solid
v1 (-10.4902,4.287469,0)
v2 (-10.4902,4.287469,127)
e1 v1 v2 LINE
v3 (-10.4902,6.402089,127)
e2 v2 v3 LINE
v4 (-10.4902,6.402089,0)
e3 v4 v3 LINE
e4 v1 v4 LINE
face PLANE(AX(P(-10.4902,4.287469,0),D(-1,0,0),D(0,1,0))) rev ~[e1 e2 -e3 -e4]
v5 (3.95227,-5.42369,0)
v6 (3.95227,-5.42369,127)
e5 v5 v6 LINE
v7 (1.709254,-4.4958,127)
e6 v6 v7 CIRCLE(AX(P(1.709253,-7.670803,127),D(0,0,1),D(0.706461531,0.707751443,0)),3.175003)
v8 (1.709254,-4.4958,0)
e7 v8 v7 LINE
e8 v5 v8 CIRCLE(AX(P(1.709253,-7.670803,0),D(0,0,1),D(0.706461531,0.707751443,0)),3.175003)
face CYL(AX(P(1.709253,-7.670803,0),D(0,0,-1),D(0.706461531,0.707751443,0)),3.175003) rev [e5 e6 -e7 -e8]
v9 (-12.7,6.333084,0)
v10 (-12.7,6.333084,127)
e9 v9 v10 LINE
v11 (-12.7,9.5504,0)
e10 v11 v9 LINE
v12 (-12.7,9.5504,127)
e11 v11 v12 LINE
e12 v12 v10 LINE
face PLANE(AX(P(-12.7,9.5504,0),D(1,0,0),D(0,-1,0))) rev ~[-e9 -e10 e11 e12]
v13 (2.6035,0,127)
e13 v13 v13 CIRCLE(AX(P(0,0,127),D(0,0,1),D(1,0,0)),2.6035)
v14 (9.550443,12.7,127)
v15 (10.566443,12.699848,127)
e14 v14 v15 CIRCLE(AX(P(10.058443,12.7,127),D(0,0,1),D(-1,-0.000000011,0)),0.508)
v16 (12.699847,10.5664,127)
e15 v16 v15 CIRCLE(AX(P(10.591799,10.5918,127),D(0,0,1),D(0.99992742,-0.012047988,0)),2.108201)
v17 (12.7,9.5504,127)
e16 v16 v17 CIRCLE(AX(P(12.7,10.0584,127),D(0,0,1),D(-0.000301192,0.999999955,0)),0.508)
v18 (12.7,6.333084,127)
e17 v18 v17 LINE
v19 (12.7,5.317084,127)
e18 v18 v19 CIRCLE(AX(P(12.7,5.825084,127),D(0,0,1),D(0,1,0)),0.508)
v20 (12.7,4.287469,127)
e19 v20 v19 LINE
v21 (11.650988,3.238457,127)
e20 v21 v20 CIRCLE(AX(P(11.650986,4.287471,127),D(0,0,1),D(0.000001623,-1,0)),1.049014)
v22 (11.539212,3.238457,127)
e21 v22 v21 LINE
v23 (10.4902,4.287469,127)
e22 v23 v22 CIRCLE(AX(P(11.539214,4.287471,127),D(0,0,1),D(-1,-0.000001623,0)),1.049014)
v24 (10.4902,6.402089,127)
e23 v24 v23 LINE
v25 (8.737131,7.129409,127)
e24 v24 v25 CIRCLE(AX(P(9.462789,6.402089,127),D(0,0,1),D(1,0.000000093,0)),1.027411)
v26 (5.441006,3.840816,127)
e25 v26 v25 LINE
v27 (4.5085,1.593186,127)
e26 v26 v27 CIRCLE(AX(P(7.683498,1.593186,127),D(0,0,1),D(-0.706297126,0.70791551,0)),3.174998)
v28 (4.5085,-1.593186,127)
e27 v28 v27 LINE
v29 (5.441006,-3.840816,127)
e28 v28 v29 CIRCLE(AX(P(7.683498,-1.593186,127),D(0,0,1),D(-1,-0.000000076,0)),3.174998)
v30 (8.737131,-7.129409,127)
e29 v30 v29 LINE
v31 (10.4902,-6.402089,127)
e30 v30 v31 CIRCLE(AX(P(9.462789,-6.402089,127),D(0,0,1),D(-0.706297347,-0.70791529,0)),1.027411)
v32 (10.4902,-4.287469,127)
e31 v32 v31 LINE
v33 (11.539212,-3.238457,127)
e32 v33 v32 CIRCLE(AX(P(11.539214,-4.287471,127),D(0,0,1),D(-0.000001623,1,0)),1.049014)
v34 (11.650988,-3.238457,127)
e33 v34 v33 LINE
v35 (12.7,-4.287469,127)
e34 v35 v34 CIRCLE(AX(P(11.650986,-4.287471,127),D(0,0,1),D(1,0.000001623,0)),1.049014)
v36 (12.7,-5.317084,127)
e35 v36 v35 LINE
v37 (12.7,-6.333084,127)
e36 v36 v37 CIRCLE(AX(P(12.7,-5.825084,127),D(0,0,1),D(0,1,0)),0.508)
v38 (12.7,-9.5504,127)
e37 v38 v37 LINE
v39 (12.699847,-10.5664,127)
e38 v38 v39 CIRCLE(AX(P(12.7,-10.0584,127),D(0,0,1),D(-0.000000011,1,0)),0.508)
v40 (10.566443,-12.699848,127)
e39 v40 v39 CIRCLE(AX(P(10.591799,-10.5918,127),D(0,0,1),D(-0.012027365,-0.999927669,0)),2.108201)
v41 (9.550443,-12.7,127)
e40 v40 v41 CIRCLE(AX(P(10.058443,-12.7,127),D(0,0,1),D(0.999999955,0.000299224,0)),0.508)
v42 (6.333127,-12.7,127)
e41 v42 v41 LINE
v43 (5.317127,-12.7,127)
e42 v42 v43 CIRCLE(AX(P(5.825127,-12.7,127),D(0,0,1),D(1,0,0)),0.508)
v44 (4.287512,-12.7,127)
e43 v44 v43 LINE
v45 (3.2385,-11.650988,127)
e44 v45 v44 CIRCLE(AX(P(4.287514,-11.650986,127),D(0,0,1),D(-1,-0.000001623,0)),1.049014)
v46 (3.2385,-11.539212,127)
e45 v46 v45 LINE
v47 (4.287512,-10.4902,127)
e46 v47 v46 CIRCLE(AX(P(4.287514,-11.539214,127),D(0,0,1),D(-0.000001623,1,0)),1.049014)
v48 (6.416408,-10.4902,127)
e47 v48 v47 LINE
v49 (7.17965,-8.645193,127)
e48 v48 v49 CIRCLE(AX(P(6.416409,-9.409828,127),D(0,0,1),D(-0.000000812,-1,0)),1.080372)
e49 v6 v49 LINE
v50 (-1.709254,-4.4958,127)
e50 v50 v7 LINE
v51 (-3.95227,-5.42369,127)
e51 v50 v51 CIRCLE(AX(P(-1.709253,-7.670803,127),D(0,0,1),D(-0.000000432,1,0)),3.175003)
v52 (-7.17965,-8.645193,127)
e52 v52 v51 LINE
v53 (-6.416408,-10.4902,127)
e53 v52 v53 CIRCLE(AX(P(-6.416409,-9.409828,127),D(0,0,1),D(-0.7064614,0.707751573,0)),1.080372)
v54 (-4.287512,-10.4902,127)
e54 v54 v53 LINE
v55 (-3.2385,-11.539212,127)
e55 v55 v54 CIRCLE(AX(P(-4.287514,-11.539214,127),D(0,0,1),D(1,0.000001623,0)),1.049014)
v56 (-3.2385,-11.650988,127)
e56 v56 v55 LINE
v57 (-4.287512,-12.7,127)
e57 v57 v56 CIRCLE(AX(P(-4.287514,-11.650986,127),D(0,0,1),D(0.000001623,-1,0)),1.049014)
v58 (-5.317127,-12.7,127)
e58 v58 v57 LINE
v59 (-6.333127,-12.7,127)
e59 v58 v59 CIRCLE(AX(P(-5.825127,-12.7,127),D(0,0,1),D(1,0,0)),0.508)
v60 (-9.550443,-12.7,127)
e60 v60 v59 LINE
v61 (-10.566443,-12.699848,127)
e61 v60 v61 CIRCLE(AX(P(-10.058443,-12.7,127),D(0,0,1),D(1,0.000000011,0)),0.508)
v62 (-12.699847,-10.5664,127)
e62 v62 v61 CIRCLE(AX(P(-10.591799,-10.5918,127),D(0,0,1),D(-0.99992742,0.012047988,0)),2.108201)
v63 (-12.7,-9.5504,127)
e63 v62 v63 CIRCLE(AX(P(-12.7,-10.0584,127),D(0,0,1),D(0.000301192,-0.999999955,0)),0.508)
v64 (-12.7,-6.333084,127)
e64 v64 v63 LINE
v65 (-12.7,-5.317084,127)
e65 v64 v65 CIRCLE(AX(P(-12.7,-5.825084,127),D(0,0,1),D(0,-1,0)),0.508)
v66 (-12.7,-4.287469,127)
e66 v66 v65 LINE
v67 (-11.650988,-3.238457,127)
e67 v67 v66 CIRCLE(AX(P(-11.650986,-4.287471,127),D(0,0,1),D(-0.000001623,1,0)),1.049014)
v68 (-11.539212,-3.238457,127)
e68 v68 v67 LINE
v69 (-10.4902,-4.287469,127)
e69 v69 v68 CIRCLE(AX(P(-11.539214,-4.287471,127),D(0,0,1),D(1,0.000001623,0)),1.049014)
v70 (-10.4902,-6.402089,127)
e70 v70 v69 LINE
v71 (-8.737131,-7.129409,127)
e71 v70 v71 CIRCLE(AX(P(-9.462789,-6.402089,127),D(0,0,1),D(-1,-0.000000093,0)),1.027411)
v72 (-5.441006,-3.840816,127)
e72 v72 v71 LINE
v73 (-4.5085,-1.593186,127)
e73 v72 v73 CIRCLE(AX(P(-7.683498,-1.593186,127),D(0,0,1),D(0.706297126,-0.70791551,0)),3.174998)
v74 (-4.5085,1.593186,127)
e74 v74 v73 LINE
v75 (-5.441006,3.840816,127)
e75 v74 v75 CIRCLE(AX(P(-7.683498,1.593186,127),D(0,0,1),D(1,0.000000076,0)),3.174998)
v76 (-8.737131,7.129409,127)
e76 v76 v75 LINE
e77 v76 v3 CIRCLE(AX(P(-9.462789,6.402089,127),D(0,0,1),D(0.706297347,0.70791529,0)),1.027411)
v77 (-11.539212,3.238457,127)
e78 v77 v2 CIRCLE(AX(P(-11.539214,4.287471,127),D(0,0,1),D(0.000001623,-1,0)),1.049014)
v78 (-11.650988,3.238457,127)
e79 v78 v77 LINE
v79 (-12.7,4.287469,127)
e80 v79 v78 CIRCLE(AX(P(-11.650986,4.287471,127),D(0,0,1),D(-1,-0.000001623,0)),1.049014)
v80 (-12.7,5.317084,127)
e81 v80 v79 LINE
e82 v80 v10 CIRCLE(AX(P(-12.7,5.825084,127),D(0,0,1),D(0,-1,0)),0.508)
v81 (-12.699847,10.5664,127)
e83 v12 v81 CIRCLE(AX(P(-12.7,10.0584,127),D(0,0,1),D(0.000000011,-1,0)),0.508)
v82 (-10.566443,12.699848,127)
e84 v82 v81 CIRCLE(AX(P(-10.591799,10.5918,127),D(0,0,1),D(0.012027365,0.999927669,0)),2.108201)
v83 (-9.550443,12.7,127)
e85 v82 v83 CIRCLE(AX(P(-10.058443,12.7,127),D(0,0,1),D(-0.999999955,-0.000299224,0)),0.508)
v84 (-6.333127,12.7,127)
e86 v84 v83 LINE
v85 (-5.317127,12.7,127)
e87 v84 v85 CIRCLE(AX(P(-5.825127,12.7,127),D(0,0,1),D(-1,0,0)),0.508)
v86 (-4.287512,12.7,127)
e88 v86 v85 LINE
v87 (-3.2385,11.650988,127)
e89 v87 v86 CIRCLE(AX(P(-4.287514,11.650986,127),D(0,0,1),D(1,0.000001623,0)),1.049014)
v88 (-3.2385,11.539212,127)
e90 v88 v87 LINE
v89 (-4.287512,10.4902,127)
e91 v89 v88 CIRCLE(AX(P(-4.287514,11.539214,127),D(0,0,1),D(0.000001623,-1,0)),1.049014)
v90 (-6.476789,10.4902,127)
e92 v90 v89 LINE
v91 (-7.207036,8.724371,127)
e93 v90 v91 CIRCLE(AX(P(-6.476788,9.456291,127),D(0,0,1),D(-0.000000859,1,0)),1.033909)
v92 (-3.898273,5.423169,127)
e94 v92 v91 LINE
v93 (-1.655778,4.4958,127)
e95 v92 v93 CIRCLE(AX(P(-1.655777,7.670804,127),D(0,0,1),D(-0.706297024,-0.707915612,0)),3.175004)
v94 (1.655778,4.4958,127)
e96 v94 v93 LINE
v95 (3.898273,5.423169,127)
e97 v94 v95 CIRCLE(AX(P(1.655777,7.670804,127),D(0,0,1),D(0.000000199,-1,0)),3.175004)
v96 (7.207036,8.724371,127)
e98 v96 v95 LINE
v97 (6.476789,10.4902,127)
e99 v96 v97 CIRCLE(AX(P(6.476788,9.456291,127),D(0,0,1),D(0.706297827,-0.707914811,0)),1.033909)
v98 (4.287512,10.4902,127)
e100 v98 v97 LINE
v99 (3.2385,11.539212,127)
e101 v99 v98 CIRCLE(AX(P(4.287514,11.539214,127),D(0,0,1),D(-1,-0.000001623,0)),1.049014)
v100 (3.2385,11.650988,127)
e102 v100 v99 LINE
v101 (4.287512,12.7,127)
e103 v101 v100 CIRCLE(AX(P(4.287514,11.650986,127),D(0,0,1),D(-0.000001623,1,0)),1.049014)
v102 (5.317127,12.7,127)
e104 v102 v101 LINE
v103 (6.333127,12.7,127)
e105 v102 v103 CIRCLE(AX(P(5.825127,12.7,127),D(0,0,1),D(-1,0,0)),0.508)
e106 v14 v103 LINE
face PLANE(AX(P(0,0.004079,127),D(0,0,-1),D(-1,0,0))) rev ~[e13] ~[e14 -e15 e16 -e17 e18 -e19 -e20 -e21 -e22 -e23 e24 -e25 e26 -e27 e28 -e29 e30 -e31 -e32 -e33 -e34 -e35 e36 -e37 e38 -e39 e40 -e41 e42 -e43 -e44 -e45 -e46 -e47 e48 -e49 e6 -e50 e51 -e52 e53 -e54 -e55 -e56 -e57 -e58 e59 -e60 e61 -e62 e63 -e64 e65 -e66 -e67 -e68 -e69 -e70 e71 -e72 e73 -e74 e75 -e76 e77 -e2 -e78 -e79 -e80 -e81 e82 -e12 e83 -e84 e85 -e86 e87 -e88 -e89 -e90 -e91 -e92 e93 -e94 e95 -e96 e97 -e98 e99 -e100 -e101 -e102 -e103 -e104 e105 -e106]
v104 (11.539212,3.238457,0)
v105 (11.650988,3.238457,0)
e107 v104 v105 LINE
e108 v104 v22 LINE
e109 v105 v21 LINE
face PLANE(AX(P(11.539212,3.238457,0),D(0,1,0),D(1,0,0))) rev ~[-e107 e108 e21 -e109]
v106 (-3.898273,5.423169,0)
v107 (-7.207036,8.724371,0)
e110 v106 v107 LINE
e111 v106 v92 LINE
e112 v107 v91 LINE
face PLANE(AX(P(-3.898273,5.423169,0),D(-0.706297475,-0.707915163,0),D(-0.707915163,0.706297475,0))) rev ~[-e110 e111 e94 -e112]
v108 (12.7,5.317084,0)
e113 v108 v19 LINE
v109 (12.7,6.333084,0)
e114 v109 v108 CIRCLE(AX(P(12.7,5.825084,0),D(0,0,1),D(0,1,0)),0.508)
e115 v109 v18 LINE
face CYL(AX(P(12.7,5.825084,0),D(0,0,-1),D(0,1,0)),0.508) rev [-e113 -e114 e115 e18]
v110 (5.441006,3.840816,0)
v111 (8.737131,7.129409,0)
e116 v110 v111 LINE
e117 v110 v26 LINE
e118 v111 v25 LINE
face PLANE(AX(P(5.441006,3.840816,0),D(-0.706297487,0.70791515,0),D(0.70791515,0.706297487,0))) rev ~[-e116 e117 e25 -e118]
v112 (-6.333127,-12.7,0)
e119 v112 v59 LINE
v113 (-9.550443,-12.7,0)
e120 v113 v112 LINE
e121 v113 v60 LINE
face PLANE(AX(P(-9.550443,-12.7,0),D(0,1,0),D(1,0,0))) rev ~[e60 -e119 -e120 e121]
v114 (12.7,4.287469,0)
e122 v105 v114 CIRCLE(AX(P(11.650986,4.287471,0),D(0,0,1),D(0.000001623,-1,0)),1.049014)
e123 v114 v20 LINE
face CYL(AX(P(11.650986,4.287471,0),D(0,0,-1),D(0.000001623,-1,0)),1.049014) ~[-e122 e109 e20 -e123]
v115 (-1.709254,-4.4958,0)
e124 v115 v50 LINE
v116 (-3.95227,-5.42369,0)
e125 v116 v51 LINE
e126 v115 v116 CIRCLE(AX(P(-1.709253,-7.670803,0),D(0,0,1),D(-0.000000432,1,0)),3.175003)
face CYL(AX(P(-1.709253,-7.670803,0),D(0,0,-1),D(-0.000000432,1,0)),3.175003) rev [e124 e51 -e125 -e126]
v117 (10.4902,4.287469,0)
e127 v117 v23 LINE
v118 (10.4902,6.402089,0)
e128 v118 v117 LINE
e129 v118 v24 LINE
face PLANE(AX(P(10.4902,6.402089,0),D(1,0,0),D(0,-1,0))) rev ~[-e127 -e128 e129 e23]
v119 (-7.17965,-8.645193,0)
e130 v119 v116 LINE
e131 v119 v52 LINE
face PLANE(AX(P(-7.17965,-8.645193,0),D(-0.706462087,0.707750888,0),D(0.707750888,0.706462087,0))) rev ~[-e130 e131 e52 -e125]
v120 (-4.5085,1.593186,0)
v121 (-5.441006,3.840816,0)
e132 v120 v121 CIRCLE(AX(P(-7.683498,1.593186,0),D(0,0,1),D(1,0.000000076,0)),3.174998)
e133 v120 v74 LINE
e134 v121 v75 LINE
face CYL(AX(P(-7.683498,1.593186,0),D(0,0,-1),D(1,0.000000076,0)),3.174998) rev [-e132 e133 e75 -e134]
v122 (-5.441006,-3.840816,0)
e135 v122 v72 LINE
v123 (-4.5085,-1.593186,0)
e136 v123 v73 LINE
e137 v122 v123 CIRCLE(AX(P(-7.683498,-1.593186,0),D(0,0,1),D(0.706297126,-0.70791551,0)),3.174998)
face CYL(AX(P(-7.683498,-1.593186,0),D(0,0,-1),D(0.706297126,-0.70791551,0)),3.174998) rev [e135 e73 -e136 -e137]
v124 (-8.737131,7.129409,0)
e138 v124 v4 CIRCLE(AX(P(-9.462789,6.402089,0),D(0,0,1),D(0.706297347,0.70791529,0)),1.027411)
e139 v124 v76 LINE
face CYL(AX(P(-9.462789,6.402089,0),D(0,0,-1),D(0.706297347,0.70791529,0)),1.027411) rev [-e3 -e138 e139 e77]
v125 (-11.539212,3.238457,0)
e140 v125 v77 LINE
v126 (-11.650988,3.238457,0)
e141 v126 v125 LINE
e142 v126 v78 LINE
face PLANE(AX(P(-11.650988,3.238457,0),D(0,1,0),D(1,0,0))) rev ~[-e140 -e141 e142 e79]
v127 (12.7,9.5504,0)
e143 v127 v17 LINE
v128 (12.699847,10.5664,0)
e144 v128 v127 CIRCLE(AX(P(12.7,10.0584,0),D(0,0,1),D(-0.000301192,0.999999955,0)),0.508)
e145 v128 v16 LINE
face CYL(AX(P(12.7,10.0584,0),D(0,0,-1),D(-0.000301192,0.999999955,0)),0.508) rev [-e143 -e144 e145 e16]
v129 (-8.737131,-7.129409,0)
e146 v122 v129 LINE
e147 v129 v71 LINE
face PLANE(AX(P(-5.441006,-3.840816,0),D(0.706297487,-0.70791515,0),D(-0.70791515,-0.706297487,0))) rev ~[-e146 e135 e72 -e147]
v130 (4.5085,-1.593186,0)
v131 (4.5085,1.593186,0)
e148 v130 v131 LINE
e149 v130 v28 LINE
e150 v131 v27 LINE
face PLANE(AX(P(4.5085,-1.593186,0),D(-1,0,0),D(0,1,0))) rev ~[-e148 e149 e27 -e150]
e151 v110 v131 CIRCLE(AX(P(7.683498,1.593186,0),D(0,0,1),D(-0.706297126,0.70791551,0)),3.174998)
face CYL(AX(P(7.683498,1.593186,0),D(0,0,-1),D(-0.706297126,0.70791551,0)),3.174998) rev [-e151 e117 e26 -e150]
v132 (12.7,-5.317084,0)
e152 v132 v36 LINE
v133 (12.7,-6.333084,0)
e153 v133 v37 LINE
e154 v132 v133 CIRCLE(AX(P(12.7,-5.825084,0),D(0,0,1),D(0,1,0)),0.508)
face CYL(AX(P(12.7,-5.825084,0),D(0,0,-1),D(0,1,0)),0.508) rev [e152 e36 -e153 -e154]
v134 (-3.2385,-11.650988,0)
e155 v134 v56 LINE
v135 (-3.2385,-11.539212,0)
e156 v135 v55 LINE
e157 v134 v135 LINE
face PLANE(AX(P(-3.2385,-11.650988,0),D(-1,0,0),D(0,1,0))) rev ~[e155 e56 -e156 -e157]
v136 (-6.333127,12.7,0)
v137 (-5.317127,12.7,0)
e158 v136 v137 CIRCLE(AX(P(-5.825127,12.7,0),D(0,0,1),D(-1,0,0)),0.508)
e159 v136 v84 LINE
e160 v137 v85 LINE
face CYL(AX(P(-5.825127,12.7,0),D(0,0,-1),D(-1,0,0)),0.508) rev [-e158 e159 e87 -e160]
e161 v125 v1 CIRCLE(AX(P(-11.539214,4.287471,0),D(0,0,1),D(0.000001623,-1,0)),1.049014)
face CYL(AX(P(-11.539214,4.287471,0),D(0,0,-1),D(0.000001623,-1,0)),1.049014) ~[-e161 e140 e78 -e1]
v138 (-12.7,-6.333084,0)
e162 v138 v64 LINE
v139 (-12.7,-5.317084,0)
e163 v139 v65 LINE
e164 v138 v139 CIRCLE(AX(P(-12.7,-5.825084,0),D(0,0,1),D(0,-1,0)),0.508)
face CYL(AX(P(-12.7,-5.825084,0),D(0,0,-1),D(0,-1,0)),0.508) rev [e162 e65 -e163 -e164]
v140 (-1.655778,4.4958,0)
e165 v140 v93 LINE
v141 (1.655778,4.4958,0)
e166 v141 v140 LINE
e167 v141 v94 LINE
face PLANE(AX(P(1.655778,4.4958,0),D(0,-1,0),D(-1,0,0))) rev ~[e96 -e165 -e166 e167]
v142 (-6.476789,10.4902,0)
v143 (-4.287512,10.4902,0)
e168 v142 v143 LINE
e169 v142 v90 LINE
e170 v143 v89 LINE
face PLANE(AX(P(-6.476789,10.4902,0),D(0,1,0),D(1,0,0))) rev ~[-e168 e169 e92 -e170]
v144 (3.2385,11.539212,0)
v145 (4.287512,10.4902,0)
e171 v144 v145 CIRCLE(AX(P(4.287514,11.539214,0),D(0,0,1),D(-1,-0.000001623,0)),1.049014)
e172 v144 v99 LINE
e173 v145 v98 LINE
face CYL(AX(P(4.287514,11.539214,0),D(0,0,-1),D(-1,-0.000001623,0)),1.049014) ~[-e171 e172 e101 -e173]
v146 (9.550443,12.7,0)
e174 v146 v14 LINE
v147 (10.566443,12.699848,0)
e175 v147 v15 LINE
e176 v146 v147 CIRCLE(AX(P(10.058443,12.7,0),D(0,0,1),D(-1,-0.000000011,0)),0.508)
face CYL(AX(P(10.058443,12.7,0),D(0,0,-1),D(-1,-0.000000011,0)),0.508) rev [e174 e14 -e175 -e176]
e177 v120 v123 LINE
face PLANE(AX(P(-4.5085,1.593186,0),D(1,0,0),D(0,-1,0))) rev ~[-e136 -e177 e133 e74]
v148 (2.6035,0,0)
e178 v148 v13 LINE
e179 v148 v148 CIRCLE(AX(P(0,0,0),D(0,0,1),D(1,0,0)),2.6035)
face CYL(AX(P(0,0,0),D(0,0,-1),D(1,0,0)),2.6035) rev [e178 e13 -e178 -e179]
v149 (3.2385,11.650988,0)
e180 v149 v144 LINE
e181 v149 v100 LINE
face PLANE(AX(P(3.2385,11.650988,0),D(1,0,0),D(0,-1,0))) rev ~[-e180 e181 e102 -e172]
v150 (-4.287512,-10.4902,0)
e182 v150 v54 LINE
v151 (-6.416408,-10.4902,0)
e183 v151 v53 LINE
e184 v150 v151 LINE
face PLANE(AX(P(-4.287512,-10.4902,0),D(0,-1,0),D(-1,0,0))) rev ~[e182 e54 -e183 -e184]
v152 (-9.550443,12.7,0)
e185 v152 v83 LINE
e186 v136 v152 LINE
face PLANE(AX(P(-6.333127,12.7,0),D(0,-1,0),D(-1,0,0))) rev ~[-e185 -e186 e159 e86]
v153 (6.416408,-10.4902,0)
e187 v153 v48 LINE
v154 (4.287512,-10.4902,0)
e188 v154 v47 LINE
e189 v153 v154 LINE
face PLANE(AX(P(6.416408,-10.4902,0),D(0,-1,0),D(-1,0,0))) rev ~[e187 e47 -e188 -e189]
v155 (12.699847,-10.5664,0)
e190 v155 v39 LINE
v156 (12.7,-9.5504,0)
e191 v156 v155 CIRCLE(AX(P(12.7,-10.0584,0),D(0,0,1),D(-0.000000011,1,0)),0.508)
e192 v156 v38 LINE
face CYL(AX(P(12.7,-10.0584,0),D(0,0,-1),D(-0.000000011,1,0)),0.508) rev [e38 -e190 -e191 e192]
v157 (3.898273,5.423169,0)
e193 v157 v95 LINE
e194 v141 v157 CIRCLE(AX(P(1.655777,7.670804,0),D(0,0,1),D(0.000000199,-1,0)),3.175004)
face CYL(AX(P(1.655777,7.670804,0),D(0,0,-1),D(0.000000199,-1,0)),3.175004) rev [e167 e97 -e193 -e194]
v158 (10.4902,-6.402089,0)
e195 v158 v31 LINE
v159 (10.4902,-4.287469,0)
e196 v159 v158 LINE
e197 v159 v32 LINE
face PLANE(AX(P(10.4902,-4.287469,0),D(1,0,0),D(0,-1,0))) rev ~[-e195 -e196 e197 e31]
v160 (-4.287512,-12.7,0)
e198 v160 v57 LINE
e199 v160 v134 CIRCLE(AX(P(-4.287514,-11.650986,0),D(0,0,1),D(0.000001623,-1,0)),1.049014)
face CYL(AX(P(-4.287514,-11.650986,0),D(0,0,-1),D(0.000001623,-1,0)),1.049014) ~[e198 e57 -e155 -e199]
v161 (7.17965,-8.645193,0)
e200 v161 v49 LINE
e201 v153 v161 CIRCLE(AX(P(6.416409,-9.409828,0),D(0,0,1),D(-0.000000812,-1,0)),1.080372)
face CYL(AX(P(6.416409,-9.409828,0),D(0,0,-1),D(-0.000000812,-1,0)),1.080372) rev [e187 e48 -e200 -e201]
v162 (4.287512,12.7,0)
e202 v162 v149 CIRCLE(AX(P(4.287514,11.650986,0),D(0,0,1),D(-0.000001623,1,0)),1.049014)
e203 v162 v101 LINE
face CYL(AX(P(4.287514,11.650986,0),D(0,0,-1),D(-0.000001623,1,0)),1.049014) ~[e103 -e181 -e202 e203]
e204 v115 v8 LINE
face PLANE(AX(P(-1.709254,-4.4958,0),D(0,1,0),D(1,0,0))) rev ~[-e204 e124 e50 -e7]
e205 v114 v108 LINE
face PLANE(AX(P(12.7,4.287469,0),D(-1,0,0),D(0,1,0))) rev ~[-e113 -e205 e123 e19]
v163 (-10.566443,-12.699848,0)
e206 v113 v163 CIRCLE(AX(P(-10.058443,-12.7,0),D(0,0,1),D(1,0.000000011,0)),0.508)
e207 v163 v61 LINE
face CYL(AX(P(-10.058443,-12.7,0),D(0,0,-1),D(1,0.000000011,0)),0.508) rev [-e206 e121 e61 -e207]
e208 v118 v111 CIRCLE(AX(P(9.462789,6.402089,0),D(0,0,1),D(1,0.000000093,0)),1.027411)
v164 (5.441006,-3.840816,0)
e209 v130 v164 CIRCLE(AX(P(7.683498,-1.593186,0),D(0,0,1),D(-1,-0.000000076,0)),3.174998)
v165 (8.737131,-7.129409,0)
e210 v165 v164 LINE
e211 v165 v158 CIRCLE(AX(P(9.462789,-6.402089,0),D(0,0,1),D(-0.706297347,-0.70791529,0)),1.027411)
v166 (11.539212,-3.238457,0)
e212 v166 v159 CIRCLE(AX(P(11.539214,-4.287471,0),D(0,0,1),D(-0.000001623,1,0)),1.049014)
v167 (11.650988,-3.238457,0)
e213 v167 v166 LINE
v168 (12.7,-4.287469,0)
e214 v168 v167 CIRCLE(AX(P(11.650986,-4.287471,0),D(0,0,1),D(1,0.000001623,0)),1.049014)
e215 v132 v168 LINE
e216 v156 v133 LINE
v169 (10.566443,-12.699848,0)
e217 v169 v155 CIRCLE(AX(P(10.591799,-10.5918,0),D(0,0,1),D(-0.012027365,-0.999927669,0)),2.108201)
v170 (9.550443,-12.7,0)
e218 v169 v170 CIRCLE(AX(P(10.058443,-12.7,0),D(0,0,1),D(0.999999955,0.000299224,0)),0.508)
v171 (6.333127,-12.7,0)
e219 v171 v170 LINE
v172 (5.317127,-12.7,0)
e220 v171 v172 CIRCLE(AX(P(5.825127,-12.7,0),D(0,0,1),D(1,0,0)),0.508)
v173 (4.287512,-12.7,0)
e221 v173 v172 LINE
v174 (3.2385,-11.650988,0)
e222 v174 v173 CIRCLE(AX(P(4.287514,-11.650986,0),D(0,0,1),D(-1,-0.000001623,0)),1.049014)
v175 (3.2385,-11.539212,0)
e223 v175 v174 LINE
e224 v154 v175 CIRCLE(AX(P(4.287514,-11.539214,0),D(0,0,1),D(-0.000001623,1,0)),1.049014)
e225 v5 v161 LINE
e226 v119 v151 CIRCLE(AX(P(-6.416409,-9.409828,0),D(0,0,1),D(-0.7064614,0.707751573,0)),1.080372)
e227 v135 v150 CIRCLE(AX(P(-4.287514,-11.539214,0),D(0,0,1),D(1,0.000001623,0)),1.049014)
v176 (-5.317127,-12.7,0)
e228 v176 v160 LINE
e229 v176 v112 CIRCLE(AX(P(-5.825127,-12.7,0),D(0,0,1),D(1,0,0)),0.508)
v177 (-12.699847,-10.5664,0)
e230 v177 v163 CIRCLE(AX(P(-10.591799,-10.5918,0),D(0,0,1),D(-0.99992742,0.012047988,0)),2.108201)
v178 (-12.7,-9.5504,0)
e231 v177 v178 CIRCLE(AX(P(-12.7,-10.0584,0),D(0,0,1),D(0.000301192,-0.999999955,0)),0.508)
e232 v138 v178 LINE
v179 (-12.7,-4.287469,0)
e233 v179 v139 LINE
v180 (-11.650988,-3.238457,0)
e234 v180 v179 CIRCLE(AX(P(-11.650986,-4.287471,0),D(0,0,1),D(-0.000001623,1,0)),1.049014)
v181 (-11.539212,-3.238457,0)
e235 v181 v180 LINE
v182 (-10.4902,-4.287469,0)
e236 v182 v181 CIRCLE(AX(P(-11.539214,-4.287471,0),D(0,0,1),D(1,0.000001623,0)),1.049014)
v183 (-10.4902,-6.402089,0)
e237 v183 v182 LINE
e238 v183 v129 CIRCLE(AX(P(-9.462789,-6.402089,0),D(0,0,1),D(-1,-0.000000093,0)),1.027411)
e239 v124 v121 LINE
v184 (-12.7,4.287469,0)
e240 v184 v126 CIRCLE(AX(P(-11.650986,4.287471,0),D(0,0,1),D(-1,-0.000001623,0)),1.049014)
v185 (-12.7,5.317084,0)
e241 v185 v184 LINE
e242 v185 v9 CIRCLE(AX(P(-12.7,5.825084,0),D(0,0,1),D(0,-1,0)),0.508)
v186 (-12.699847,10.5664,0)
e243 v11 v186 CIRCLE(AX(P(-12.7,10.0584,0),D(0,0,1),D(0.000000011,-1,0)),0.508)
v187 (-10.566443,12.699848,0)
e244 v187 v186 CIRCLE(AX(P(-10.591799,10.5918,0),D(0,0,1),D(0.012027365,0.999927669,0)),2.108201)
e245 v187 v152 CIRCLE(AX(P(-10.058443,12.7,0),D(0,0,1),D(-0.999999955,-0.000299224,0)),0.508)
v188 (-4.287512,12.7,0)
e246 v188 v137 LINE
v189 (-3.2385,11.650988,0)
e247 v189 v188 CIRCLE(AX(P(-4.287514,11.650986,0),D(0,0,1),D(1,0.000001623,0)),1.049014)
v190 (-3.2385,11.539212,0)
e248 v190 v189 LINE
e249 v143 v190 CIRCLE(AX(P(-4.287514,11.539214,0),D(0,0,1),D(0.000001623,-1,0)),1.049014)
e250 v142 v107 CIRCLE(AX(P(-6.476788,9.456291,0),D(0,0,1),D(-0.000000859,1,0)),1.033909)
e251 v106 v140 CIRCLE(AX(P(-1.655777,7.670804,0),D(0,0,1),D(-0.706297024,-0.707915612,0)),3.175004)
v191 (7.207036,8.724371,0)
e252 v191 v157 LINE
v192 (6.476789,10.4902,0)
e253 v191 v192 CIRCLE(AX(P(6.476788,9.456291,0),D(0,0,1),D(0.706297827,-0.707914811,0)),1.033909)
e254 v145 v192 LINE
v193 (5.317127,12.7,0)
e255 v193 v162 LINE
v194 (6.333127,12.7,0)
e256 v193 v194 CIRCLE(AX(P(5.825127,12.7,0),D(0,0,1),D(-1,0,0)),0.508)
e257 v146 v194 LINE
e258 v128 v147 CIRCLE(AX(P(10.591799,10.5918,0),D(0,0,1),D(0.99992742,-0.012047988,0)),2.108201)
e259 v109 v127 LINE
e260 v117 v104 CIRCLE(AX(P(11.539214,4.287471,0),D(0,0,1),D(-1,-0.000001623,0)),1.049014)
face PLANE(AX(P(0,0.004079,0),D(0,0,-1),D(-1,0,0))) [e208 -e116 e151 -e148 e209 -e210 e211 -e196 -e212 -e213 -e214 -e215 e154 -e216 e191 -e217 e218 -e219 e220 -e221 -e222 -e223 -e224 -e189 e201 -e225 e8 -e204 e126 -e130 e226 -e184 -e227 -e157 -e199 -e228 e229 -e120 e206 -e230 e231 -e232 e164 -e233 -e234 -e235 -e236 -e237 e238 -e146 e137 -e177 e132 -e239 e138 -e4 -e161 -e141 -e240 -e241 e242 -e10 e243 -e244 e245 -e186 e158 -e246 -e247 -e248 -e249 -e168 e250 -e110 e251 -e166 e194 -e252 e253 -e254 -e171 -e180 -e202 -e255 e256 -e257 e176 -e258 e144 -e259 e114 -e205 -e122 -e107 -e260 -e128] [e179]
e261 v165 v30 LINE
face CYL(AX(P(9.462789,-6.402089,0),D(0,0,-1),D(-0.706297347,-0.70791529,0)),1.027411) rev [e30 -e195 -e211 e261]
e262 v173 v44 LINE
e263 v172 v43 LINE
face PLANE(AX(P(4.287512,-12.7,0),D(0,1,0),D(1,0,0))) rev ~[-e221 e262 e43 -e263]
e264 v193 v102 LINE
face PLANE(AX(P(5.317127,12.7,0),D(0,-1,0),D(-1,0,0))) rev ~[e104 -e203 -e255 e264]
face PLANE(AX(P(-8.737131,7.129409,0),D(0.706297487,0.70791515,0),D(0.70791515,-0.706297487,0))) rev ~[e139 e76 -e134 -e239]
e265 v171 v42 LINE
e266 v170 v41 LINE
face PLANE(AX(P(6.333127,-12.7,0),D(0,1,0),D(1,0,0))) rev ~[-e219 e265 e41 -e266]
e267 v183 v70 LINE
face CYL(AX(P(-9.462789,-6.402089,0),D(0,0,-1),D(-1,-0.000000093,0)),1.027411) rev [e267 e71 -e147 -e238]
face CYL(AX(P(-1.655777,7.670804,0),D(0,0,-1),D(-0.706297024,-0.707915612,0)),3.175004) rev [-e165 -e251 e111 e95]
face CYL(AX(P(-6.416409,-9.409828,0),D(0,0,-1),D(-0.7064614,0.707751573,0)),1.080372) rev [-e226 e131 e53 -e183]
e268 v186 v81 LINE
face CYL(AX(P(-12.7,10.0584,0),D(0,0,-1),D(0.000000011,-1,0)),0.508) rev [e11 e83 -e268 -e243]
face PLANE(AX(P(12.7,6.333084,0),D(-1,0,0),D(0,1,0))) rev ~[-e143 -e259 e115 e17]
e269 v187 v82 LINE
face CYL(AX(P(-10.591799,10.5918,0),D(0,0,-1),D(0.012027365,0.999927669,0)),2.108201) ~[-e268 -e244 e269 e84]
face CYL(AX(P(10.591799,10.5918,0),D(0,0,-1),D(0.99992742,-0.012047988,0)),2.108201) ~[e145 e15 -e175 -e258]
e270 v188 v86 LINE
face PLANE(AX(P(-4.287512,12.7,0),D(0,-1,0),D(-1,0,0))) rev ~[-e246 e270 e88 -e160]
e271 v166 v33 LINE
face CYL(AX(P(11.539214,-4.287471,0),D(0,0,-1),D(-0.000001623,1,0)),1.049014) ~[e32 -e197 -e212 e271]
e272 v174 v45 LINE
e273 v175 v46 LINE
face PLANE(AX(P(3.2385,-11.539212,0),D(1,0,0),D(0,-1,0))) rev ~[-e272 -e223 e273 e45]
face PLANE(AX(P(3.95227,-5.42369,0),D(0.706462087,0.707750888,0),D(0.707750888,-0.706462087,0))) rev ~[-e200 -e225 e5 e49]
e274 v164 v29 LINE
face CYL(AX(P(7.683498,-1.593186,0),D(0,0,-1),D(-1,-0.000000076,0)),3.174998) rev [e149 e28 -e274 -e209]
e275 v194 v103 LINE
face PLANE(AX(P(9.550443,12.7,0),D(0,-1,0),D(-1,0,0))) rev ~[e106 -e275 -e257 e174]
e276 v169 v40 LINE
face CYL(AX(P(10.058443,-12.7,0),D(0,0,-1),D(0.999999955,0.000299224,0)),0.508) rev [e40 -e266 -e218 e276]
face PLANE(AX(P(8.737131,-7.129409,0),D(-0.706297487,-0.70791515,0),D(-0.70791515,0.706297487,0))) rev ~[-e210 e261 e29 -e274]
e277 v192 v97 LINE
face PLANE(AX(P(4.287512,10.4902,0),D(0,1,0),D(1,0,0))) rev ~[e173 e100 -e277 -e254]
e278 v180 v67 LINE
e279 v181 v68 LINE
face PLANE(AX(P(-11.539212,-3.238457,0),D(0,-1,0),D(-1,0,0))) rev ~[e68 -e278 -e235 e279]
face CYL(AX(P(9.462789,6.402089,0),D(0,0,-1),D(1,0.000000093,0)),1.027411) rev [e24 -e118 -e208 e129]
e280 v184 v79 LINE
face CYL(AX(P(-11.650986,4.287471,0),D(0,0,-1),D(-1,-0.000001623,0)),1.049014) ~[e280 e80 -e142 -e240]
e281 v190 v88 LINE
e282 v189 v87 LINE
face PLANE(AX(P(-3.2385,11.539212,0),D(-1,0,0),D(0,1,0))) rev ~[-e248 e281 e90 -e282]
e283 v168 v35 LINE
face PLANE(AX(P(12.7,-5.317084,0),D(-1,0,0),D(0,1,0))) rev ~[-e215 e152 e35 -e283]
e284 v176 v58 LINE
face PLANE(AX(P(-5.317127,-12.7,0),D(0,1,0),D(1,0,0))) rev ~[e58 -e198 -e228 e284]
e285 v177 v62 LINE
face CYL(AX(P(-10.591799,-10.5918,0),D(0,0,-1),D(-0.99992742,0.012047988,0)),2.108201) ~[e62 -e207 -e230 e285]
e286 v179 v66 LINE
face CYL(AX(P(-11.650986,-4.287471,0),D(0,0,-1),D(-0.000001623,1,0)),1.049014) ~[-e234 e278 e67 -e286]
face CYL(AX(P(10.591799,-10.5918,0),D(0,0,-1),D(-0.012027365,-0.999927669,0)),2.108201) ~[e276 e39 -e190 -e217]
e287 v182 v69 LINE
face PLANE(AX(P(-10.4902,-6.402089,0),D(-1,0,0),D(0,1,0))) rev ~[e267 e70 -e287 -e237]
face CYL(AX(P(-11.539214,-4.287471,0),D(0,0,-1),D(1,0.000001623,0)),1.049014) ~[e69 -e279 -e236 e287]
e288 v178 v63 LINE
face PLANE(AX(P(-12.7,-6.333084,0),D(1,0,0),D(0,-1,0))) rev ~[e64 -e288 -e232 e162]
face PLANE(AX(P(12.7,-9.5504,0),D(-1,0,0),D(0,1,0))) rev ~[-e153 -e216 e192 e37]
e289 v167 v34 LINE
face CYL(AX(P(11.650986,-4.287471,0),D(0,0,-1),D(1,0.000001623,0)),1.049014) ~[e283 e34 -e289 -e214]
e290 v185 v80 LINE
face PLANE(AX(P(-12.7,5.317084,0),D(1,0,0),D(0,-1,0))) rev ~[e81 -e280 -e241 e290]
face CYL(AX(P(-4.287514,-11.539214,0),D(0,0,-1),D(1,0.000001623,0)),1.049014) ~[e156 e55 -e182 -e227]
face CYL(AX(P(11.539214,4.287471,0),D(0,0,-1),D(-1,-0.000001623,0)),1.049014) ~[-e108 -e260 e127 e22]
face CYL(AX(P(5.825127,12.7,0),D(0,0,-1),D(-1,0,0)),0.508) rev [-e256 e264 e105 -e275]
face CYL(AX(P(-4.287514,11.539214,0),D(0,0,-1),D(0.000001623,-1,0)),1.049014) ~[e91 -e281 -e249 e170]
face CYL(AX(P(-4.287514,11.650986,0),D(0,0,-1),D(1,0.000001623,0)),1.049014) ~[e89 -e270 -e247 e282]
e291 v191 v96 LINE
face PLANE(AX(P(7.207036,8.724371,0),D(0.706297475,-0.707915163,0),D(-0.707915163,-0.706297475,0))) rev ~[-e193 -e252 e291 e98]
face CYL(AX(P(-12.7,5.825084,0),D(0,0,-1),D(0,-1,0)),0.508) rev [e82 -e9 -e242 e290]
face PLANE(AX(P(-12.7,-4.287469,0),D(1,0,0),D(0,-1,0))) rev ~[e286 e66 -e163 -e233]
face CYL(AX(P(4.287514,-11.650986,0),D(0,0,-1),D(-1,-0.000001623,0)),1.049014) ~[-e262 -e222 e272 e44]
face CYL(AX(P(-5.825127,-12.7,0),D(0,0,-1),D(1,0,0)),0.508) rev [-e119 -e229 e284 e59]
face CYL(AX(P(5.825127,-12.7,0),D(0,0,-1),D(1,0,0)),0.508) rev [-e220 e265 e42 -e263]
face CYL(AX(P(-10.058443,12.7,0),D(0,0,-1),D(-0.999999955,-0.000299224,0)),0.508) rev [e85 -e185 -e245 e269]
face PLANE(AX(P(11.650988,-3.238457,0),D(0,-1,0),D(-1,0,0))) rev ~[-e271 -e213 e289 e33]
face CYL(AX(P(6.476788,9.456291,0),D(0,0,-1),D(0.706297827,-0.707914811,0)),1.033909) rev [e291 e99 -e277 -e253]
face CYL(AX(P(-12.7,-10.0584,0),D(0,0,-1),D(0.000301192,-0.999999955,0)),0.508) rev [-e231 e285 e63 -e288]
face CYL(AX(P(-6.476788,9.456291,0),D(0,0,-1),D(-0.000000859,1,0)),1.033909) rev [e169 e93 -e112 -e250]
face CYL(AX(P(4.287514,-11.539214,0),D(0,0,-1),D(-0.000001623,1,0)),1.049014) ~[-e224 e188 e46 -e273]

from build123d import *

# Parameters (mm, degrees)
SKETCH097_R   = 2.6035
EXTRUDE_DEPTH = 127


with BuildPart() as part:
    # Sketch097 → Extrude (new body)
    with BuildSketch(Plane.XY):
        with BuildLine():
            ThreePointArc((12.7, 6.333084), (12.192, 5.825084), (12.7, 5.317084))
            Line((12.7, 4.287469), (12.7, 5.317084))
            ThreePointArc((11.650988, 3.238457), (12.392751, 3.545706), (12.7, 4.287469))
            Line((11.539212, 3.238457), (11.650988, 3.238457))
            ThreePointArc((10.4902, 4.287469), (10.797449, 3.545706), (11.539212, 3.238457))
            Line((10.4902, 6.402089), (10.4902, 4.287469))
            ThreePointArc((10.4902, 6.402089), (9.856505, 7.351068), (8.737131, 7.129409))
            Line((5.441006, 3.840816), (8.737131, 7.129409))
            ThreePointArc((5.441006, 3.840816), (4.750878, 2.809883), (4.5085, 1.593186))
            Line((4.5085, -1.593186), (4.5085, 1.593186))
            ThreePointArc((4.5085, -1.593186), (4.750878, -2.809883), (5.441006, -3.840816))
            Line((8.737131, -7.129409), (5.441006, -3.840816))
            ThreePointArc((8.737131, -7.129409), (9.856505, -7.351068), (10.4902, -6.402089))
            Line((10.4902, -4.287469), (10.4902, -6.402089))
            ThreePointArc((11.539212, -3.238457), (10.797449, -3.545706), (10.4902, -4.287469))
            Line((11.650988, -3.238457), (11.539212, -3.238457))
            ThreePointArc((12.7, -4.287469), (12.392751, -3.545706), (11.650988, -3.238457))
            Line((12.7, -5.317084), (12.7, -4.287469))
            ThreePointArc((12.7, -5.317084), (12.192, -5.825084), (12.7, -6.333084))
            Line((12.7, -9.5504), (12.7, -6.333084))
            ThreePointArc((12.7, -9.5504), (12.192, -10.058323), (12.699847, -10.5664))
            ThreePointArc((10.566443, -12.699848), (12.082538, -12.082507), (12.699847, -10.5664))
            ThreePointArc((10.566443, -12.699848), (10.058367, -12.192), (9.550443, -12.7))
            Line((6.333127, -12.7), (9.550443, -12.7))
            ThreePointArc((6.333127, -12.7), (5.825127, -12.192), (5.317127, -12.7))
            Line((4.287512, -12.7), (5.317127, -12.7))
            ThreePointArc((3.2385, -11.650988), (3.545749, -12.392751), (4.287512, -12.7))
            Line((3.2385, -11.539212), (3.2385, -11.650988))
            ThreePointArc((4.287512, -10.4902), (3.545749, -10.797449), (3.2385, -11.539212))
            Line((6.416408, -10.4902), (4.287512, -10.4902))
            ThreePointArc((6.416408, -10.4902), (7.414731, -9.822813), (7.17965, -8.645193))
            Line((3.95227, -5.42369), (7.17965, -8.645193))
            ThreePointArc((3.95227, -5.42369), (2.922936, -4.736929), (1.709254, -4.4958))
            Line((-1.709254, -4.4958), (1.709254, -4.4958))
            ThreePointArc((-1.709254, -4.4958), (-2.922936, -4.736929), (-3.95227, -5.42369))
            Line((-7.17965, -8.645193), (-3.95227, -5.42369))
            ThreePointArc((-7.17965, -8.645193), (-7.414731, -9.822813), (-6.416408, -10.4902))
            Line((-4.287512, -10.4902), (-6.416408, -10.4902))
            ThreePointArc((-3.2385, -11.539212), (-3.545749, -10.797449), (-4.287512, -10.4902))
            Line((-3.2385, -11.650988), (-3.2385, -11.539212))
            ThreePointArc((-4.287512, -12.7), (-3.545749, -12.392751), (-3.2385, -11.650988))
            Line((-5.317127, -12.7), (-4.287512, -12.7))
            ThreePointArc((-5.317127, -12.7), (-5.825127, -12.192), (-6.333127, -12.7))
            Line((-9.550443, -12.7), (-6.333127, -12.7))
            ThreePointArc((-9.550443, -12.7), (-10.058367, -12.192), (-10.566443, -12.699848))
            ThreePointArc((-12.699847, -10.5664), (-12.082538, -12.082507), (-10.566443, -12.699848))
            ThreePointArc((-12.699847, -10.5664), (-12.192, -10.058323), (-12.7, -9.5504))
            Line((-12.7, -6.333084), (-12.7, -9.5504))
            ThreePointArc((-12.7, -6.333084), (-12.192, -5.825084), (-12.7, -5.317084))
            Line((-12.7, -4.287469), (-12.7, -5.317084))
            ThreePointArc((-11.650988, -3.238457), (-12.392751, -3.545706), (-12.7, -4.287469))
            Line((-11.539212, -3.238457), (-11.650988, -3.238457))
            ThreePointArc((-10.4902, -4.287469), (-10.797449, -3.545706), (-11.539212, -3.238457))
            Line((-10.4902, -6.402089), (-10.4902, -4.287469))
            ThreePointArc((-10.4902, -6.402089), (-9.856505, -7.351068), (-8.737131, -7.129409))
            Line((-5.441006, -3.840816), (-8.737131, -7.129409))
            ThreePointArc((-5.441006, -3.840816), (-4.750878, -2.809883), (-4.5085, -1.593186))
            Line((-4.5085, 1.593186), (-4.5085, -1.593186))
            ThreePointArc((-4.5085, 1.593186), (-4.750878, 2.809883), (-5.441006, 3.840816))
            Line((-8.737131, 7.129409), (-5.441006, 3.840816))
            ThreePointArc((-8.737131, 7.129409), (-9.856505, 7.351068), (-10.4902, 6.402089))
            Line((-10.4902, 4.287469), (-10.4902, 6.402089))
            ThreePointArc((-11.539212, 3.238457), (-10.797449, 3.545706), (-10.4902, 4.287469))
            Line((-11.650988, 3.238457), (-11.539212, 3.238457))
            ThreePointArc((-12.7, 4.287469), (-12.392751, 3.545706), (-11.650988, 3.238457))
            Line((-12.7, 5.317084), (-12.7, 4.287469))
            ThreePointArc((-12.7, 5.317084), (-12.192, 5.825084), (-12.7, 6.333084))
            Line((-12.7, 9.5504), (-12.7, 6.333084))
            ThreePointArc((-12.7, 9.5504), (-12.192, 10.058323), (-12.699847, 10.5664))
            ThreePointArc((-10.566443, 12.699848), (-12.082538, 12.082507), (-12.699847, 10.5664))
            ThreePointArc((-10.566443, 12.699848), (-10.058367, 12.192), (-9.550443, 12.7))
            Line((-6.333127, 12.7), (-9.550443, 12.7))
            ThreePointArc((-6.333127, 12.7), (-5.825127, 12.192), (-5.317127, 12.7))
            Line((-4.287512, 12.7), (-5.317127, 12.7))
            ThreePointArc((-3.2385, 11.650988), (-3.545749, 12.392751), (-4.287512, 12.7))
            Line((-3.2385, 11.539212), (-3.2385, 11.650988))
            ThreePointArc((-4.287512, 10.4902), (-3.545749, 10.797449), (-3.2385, 11.539212))
            Line((-6.476789, 10.4902), (-4.287512, 10.4902))
            ThreePointArc((-6.476789, 10.4902), (-7.432222, 9.851404), (-7.207036, 8.724371))
            Line((-3.898273, 5.423169), (-7.207036, 8.724371))
            ThreePointArc((-3.898273, 5.423169), (-2.86912, 4.736788), (-1.655778, 4.4958))
            Line((1.655778, 4.4958), (-1.655778, 4.4958))
            ThreePointArc((1.655778, 4.4958), (2.86912, 4.736788), (3.898273, 5.423169))
            Line((7.207036, 8.724371), (3.898273, 5.423169))
            ThreePointArc((7.207036, 8.724371), (7.432222, 9.851404), (6.476789, 10.4902))
            Line((4.287512, 10.4902), (6.476789, 10.4902))
            ThreePointArc((3.2385, 11.539212), (3.545749, 10.797449), (4.287512, 10.4902))
            Line((3.2385, 11.650988), (3.2385, 11.539212))
            ThreePointArc((4.287512, 12.7), (3.545749, 12.392751), (3.2385, 11.650988))
            Line((5.317127, 12.7), (4.287512, 12.7))
            ThreePointArc((5.317127, 12.7), (5.825127, 12.192), (6.333127, 12.7))
            Line((9.550443, 12.7), (6.333127, 12.7))
            ThreePointArc((9.550443, 12.7), (10.058367, 12.192), (10.566443, 12.699848))
            ThreePointArc((12.699847, 10.5664), (12.082538, 12.082507), (10.566443, 12.699848))
            ThreePointArc((12.699847, 10.5664), (12.192, 10.058323), (12.7, 9.5504))
            Line((12.7, 6.333084), (12.7, 9.5504))
        make_face()
        Circle(SKETCH097_R, mode=Mode.SUBTRACT)
    extrude(amount=EXTRUDE_DEPTH)


solid = part.part
